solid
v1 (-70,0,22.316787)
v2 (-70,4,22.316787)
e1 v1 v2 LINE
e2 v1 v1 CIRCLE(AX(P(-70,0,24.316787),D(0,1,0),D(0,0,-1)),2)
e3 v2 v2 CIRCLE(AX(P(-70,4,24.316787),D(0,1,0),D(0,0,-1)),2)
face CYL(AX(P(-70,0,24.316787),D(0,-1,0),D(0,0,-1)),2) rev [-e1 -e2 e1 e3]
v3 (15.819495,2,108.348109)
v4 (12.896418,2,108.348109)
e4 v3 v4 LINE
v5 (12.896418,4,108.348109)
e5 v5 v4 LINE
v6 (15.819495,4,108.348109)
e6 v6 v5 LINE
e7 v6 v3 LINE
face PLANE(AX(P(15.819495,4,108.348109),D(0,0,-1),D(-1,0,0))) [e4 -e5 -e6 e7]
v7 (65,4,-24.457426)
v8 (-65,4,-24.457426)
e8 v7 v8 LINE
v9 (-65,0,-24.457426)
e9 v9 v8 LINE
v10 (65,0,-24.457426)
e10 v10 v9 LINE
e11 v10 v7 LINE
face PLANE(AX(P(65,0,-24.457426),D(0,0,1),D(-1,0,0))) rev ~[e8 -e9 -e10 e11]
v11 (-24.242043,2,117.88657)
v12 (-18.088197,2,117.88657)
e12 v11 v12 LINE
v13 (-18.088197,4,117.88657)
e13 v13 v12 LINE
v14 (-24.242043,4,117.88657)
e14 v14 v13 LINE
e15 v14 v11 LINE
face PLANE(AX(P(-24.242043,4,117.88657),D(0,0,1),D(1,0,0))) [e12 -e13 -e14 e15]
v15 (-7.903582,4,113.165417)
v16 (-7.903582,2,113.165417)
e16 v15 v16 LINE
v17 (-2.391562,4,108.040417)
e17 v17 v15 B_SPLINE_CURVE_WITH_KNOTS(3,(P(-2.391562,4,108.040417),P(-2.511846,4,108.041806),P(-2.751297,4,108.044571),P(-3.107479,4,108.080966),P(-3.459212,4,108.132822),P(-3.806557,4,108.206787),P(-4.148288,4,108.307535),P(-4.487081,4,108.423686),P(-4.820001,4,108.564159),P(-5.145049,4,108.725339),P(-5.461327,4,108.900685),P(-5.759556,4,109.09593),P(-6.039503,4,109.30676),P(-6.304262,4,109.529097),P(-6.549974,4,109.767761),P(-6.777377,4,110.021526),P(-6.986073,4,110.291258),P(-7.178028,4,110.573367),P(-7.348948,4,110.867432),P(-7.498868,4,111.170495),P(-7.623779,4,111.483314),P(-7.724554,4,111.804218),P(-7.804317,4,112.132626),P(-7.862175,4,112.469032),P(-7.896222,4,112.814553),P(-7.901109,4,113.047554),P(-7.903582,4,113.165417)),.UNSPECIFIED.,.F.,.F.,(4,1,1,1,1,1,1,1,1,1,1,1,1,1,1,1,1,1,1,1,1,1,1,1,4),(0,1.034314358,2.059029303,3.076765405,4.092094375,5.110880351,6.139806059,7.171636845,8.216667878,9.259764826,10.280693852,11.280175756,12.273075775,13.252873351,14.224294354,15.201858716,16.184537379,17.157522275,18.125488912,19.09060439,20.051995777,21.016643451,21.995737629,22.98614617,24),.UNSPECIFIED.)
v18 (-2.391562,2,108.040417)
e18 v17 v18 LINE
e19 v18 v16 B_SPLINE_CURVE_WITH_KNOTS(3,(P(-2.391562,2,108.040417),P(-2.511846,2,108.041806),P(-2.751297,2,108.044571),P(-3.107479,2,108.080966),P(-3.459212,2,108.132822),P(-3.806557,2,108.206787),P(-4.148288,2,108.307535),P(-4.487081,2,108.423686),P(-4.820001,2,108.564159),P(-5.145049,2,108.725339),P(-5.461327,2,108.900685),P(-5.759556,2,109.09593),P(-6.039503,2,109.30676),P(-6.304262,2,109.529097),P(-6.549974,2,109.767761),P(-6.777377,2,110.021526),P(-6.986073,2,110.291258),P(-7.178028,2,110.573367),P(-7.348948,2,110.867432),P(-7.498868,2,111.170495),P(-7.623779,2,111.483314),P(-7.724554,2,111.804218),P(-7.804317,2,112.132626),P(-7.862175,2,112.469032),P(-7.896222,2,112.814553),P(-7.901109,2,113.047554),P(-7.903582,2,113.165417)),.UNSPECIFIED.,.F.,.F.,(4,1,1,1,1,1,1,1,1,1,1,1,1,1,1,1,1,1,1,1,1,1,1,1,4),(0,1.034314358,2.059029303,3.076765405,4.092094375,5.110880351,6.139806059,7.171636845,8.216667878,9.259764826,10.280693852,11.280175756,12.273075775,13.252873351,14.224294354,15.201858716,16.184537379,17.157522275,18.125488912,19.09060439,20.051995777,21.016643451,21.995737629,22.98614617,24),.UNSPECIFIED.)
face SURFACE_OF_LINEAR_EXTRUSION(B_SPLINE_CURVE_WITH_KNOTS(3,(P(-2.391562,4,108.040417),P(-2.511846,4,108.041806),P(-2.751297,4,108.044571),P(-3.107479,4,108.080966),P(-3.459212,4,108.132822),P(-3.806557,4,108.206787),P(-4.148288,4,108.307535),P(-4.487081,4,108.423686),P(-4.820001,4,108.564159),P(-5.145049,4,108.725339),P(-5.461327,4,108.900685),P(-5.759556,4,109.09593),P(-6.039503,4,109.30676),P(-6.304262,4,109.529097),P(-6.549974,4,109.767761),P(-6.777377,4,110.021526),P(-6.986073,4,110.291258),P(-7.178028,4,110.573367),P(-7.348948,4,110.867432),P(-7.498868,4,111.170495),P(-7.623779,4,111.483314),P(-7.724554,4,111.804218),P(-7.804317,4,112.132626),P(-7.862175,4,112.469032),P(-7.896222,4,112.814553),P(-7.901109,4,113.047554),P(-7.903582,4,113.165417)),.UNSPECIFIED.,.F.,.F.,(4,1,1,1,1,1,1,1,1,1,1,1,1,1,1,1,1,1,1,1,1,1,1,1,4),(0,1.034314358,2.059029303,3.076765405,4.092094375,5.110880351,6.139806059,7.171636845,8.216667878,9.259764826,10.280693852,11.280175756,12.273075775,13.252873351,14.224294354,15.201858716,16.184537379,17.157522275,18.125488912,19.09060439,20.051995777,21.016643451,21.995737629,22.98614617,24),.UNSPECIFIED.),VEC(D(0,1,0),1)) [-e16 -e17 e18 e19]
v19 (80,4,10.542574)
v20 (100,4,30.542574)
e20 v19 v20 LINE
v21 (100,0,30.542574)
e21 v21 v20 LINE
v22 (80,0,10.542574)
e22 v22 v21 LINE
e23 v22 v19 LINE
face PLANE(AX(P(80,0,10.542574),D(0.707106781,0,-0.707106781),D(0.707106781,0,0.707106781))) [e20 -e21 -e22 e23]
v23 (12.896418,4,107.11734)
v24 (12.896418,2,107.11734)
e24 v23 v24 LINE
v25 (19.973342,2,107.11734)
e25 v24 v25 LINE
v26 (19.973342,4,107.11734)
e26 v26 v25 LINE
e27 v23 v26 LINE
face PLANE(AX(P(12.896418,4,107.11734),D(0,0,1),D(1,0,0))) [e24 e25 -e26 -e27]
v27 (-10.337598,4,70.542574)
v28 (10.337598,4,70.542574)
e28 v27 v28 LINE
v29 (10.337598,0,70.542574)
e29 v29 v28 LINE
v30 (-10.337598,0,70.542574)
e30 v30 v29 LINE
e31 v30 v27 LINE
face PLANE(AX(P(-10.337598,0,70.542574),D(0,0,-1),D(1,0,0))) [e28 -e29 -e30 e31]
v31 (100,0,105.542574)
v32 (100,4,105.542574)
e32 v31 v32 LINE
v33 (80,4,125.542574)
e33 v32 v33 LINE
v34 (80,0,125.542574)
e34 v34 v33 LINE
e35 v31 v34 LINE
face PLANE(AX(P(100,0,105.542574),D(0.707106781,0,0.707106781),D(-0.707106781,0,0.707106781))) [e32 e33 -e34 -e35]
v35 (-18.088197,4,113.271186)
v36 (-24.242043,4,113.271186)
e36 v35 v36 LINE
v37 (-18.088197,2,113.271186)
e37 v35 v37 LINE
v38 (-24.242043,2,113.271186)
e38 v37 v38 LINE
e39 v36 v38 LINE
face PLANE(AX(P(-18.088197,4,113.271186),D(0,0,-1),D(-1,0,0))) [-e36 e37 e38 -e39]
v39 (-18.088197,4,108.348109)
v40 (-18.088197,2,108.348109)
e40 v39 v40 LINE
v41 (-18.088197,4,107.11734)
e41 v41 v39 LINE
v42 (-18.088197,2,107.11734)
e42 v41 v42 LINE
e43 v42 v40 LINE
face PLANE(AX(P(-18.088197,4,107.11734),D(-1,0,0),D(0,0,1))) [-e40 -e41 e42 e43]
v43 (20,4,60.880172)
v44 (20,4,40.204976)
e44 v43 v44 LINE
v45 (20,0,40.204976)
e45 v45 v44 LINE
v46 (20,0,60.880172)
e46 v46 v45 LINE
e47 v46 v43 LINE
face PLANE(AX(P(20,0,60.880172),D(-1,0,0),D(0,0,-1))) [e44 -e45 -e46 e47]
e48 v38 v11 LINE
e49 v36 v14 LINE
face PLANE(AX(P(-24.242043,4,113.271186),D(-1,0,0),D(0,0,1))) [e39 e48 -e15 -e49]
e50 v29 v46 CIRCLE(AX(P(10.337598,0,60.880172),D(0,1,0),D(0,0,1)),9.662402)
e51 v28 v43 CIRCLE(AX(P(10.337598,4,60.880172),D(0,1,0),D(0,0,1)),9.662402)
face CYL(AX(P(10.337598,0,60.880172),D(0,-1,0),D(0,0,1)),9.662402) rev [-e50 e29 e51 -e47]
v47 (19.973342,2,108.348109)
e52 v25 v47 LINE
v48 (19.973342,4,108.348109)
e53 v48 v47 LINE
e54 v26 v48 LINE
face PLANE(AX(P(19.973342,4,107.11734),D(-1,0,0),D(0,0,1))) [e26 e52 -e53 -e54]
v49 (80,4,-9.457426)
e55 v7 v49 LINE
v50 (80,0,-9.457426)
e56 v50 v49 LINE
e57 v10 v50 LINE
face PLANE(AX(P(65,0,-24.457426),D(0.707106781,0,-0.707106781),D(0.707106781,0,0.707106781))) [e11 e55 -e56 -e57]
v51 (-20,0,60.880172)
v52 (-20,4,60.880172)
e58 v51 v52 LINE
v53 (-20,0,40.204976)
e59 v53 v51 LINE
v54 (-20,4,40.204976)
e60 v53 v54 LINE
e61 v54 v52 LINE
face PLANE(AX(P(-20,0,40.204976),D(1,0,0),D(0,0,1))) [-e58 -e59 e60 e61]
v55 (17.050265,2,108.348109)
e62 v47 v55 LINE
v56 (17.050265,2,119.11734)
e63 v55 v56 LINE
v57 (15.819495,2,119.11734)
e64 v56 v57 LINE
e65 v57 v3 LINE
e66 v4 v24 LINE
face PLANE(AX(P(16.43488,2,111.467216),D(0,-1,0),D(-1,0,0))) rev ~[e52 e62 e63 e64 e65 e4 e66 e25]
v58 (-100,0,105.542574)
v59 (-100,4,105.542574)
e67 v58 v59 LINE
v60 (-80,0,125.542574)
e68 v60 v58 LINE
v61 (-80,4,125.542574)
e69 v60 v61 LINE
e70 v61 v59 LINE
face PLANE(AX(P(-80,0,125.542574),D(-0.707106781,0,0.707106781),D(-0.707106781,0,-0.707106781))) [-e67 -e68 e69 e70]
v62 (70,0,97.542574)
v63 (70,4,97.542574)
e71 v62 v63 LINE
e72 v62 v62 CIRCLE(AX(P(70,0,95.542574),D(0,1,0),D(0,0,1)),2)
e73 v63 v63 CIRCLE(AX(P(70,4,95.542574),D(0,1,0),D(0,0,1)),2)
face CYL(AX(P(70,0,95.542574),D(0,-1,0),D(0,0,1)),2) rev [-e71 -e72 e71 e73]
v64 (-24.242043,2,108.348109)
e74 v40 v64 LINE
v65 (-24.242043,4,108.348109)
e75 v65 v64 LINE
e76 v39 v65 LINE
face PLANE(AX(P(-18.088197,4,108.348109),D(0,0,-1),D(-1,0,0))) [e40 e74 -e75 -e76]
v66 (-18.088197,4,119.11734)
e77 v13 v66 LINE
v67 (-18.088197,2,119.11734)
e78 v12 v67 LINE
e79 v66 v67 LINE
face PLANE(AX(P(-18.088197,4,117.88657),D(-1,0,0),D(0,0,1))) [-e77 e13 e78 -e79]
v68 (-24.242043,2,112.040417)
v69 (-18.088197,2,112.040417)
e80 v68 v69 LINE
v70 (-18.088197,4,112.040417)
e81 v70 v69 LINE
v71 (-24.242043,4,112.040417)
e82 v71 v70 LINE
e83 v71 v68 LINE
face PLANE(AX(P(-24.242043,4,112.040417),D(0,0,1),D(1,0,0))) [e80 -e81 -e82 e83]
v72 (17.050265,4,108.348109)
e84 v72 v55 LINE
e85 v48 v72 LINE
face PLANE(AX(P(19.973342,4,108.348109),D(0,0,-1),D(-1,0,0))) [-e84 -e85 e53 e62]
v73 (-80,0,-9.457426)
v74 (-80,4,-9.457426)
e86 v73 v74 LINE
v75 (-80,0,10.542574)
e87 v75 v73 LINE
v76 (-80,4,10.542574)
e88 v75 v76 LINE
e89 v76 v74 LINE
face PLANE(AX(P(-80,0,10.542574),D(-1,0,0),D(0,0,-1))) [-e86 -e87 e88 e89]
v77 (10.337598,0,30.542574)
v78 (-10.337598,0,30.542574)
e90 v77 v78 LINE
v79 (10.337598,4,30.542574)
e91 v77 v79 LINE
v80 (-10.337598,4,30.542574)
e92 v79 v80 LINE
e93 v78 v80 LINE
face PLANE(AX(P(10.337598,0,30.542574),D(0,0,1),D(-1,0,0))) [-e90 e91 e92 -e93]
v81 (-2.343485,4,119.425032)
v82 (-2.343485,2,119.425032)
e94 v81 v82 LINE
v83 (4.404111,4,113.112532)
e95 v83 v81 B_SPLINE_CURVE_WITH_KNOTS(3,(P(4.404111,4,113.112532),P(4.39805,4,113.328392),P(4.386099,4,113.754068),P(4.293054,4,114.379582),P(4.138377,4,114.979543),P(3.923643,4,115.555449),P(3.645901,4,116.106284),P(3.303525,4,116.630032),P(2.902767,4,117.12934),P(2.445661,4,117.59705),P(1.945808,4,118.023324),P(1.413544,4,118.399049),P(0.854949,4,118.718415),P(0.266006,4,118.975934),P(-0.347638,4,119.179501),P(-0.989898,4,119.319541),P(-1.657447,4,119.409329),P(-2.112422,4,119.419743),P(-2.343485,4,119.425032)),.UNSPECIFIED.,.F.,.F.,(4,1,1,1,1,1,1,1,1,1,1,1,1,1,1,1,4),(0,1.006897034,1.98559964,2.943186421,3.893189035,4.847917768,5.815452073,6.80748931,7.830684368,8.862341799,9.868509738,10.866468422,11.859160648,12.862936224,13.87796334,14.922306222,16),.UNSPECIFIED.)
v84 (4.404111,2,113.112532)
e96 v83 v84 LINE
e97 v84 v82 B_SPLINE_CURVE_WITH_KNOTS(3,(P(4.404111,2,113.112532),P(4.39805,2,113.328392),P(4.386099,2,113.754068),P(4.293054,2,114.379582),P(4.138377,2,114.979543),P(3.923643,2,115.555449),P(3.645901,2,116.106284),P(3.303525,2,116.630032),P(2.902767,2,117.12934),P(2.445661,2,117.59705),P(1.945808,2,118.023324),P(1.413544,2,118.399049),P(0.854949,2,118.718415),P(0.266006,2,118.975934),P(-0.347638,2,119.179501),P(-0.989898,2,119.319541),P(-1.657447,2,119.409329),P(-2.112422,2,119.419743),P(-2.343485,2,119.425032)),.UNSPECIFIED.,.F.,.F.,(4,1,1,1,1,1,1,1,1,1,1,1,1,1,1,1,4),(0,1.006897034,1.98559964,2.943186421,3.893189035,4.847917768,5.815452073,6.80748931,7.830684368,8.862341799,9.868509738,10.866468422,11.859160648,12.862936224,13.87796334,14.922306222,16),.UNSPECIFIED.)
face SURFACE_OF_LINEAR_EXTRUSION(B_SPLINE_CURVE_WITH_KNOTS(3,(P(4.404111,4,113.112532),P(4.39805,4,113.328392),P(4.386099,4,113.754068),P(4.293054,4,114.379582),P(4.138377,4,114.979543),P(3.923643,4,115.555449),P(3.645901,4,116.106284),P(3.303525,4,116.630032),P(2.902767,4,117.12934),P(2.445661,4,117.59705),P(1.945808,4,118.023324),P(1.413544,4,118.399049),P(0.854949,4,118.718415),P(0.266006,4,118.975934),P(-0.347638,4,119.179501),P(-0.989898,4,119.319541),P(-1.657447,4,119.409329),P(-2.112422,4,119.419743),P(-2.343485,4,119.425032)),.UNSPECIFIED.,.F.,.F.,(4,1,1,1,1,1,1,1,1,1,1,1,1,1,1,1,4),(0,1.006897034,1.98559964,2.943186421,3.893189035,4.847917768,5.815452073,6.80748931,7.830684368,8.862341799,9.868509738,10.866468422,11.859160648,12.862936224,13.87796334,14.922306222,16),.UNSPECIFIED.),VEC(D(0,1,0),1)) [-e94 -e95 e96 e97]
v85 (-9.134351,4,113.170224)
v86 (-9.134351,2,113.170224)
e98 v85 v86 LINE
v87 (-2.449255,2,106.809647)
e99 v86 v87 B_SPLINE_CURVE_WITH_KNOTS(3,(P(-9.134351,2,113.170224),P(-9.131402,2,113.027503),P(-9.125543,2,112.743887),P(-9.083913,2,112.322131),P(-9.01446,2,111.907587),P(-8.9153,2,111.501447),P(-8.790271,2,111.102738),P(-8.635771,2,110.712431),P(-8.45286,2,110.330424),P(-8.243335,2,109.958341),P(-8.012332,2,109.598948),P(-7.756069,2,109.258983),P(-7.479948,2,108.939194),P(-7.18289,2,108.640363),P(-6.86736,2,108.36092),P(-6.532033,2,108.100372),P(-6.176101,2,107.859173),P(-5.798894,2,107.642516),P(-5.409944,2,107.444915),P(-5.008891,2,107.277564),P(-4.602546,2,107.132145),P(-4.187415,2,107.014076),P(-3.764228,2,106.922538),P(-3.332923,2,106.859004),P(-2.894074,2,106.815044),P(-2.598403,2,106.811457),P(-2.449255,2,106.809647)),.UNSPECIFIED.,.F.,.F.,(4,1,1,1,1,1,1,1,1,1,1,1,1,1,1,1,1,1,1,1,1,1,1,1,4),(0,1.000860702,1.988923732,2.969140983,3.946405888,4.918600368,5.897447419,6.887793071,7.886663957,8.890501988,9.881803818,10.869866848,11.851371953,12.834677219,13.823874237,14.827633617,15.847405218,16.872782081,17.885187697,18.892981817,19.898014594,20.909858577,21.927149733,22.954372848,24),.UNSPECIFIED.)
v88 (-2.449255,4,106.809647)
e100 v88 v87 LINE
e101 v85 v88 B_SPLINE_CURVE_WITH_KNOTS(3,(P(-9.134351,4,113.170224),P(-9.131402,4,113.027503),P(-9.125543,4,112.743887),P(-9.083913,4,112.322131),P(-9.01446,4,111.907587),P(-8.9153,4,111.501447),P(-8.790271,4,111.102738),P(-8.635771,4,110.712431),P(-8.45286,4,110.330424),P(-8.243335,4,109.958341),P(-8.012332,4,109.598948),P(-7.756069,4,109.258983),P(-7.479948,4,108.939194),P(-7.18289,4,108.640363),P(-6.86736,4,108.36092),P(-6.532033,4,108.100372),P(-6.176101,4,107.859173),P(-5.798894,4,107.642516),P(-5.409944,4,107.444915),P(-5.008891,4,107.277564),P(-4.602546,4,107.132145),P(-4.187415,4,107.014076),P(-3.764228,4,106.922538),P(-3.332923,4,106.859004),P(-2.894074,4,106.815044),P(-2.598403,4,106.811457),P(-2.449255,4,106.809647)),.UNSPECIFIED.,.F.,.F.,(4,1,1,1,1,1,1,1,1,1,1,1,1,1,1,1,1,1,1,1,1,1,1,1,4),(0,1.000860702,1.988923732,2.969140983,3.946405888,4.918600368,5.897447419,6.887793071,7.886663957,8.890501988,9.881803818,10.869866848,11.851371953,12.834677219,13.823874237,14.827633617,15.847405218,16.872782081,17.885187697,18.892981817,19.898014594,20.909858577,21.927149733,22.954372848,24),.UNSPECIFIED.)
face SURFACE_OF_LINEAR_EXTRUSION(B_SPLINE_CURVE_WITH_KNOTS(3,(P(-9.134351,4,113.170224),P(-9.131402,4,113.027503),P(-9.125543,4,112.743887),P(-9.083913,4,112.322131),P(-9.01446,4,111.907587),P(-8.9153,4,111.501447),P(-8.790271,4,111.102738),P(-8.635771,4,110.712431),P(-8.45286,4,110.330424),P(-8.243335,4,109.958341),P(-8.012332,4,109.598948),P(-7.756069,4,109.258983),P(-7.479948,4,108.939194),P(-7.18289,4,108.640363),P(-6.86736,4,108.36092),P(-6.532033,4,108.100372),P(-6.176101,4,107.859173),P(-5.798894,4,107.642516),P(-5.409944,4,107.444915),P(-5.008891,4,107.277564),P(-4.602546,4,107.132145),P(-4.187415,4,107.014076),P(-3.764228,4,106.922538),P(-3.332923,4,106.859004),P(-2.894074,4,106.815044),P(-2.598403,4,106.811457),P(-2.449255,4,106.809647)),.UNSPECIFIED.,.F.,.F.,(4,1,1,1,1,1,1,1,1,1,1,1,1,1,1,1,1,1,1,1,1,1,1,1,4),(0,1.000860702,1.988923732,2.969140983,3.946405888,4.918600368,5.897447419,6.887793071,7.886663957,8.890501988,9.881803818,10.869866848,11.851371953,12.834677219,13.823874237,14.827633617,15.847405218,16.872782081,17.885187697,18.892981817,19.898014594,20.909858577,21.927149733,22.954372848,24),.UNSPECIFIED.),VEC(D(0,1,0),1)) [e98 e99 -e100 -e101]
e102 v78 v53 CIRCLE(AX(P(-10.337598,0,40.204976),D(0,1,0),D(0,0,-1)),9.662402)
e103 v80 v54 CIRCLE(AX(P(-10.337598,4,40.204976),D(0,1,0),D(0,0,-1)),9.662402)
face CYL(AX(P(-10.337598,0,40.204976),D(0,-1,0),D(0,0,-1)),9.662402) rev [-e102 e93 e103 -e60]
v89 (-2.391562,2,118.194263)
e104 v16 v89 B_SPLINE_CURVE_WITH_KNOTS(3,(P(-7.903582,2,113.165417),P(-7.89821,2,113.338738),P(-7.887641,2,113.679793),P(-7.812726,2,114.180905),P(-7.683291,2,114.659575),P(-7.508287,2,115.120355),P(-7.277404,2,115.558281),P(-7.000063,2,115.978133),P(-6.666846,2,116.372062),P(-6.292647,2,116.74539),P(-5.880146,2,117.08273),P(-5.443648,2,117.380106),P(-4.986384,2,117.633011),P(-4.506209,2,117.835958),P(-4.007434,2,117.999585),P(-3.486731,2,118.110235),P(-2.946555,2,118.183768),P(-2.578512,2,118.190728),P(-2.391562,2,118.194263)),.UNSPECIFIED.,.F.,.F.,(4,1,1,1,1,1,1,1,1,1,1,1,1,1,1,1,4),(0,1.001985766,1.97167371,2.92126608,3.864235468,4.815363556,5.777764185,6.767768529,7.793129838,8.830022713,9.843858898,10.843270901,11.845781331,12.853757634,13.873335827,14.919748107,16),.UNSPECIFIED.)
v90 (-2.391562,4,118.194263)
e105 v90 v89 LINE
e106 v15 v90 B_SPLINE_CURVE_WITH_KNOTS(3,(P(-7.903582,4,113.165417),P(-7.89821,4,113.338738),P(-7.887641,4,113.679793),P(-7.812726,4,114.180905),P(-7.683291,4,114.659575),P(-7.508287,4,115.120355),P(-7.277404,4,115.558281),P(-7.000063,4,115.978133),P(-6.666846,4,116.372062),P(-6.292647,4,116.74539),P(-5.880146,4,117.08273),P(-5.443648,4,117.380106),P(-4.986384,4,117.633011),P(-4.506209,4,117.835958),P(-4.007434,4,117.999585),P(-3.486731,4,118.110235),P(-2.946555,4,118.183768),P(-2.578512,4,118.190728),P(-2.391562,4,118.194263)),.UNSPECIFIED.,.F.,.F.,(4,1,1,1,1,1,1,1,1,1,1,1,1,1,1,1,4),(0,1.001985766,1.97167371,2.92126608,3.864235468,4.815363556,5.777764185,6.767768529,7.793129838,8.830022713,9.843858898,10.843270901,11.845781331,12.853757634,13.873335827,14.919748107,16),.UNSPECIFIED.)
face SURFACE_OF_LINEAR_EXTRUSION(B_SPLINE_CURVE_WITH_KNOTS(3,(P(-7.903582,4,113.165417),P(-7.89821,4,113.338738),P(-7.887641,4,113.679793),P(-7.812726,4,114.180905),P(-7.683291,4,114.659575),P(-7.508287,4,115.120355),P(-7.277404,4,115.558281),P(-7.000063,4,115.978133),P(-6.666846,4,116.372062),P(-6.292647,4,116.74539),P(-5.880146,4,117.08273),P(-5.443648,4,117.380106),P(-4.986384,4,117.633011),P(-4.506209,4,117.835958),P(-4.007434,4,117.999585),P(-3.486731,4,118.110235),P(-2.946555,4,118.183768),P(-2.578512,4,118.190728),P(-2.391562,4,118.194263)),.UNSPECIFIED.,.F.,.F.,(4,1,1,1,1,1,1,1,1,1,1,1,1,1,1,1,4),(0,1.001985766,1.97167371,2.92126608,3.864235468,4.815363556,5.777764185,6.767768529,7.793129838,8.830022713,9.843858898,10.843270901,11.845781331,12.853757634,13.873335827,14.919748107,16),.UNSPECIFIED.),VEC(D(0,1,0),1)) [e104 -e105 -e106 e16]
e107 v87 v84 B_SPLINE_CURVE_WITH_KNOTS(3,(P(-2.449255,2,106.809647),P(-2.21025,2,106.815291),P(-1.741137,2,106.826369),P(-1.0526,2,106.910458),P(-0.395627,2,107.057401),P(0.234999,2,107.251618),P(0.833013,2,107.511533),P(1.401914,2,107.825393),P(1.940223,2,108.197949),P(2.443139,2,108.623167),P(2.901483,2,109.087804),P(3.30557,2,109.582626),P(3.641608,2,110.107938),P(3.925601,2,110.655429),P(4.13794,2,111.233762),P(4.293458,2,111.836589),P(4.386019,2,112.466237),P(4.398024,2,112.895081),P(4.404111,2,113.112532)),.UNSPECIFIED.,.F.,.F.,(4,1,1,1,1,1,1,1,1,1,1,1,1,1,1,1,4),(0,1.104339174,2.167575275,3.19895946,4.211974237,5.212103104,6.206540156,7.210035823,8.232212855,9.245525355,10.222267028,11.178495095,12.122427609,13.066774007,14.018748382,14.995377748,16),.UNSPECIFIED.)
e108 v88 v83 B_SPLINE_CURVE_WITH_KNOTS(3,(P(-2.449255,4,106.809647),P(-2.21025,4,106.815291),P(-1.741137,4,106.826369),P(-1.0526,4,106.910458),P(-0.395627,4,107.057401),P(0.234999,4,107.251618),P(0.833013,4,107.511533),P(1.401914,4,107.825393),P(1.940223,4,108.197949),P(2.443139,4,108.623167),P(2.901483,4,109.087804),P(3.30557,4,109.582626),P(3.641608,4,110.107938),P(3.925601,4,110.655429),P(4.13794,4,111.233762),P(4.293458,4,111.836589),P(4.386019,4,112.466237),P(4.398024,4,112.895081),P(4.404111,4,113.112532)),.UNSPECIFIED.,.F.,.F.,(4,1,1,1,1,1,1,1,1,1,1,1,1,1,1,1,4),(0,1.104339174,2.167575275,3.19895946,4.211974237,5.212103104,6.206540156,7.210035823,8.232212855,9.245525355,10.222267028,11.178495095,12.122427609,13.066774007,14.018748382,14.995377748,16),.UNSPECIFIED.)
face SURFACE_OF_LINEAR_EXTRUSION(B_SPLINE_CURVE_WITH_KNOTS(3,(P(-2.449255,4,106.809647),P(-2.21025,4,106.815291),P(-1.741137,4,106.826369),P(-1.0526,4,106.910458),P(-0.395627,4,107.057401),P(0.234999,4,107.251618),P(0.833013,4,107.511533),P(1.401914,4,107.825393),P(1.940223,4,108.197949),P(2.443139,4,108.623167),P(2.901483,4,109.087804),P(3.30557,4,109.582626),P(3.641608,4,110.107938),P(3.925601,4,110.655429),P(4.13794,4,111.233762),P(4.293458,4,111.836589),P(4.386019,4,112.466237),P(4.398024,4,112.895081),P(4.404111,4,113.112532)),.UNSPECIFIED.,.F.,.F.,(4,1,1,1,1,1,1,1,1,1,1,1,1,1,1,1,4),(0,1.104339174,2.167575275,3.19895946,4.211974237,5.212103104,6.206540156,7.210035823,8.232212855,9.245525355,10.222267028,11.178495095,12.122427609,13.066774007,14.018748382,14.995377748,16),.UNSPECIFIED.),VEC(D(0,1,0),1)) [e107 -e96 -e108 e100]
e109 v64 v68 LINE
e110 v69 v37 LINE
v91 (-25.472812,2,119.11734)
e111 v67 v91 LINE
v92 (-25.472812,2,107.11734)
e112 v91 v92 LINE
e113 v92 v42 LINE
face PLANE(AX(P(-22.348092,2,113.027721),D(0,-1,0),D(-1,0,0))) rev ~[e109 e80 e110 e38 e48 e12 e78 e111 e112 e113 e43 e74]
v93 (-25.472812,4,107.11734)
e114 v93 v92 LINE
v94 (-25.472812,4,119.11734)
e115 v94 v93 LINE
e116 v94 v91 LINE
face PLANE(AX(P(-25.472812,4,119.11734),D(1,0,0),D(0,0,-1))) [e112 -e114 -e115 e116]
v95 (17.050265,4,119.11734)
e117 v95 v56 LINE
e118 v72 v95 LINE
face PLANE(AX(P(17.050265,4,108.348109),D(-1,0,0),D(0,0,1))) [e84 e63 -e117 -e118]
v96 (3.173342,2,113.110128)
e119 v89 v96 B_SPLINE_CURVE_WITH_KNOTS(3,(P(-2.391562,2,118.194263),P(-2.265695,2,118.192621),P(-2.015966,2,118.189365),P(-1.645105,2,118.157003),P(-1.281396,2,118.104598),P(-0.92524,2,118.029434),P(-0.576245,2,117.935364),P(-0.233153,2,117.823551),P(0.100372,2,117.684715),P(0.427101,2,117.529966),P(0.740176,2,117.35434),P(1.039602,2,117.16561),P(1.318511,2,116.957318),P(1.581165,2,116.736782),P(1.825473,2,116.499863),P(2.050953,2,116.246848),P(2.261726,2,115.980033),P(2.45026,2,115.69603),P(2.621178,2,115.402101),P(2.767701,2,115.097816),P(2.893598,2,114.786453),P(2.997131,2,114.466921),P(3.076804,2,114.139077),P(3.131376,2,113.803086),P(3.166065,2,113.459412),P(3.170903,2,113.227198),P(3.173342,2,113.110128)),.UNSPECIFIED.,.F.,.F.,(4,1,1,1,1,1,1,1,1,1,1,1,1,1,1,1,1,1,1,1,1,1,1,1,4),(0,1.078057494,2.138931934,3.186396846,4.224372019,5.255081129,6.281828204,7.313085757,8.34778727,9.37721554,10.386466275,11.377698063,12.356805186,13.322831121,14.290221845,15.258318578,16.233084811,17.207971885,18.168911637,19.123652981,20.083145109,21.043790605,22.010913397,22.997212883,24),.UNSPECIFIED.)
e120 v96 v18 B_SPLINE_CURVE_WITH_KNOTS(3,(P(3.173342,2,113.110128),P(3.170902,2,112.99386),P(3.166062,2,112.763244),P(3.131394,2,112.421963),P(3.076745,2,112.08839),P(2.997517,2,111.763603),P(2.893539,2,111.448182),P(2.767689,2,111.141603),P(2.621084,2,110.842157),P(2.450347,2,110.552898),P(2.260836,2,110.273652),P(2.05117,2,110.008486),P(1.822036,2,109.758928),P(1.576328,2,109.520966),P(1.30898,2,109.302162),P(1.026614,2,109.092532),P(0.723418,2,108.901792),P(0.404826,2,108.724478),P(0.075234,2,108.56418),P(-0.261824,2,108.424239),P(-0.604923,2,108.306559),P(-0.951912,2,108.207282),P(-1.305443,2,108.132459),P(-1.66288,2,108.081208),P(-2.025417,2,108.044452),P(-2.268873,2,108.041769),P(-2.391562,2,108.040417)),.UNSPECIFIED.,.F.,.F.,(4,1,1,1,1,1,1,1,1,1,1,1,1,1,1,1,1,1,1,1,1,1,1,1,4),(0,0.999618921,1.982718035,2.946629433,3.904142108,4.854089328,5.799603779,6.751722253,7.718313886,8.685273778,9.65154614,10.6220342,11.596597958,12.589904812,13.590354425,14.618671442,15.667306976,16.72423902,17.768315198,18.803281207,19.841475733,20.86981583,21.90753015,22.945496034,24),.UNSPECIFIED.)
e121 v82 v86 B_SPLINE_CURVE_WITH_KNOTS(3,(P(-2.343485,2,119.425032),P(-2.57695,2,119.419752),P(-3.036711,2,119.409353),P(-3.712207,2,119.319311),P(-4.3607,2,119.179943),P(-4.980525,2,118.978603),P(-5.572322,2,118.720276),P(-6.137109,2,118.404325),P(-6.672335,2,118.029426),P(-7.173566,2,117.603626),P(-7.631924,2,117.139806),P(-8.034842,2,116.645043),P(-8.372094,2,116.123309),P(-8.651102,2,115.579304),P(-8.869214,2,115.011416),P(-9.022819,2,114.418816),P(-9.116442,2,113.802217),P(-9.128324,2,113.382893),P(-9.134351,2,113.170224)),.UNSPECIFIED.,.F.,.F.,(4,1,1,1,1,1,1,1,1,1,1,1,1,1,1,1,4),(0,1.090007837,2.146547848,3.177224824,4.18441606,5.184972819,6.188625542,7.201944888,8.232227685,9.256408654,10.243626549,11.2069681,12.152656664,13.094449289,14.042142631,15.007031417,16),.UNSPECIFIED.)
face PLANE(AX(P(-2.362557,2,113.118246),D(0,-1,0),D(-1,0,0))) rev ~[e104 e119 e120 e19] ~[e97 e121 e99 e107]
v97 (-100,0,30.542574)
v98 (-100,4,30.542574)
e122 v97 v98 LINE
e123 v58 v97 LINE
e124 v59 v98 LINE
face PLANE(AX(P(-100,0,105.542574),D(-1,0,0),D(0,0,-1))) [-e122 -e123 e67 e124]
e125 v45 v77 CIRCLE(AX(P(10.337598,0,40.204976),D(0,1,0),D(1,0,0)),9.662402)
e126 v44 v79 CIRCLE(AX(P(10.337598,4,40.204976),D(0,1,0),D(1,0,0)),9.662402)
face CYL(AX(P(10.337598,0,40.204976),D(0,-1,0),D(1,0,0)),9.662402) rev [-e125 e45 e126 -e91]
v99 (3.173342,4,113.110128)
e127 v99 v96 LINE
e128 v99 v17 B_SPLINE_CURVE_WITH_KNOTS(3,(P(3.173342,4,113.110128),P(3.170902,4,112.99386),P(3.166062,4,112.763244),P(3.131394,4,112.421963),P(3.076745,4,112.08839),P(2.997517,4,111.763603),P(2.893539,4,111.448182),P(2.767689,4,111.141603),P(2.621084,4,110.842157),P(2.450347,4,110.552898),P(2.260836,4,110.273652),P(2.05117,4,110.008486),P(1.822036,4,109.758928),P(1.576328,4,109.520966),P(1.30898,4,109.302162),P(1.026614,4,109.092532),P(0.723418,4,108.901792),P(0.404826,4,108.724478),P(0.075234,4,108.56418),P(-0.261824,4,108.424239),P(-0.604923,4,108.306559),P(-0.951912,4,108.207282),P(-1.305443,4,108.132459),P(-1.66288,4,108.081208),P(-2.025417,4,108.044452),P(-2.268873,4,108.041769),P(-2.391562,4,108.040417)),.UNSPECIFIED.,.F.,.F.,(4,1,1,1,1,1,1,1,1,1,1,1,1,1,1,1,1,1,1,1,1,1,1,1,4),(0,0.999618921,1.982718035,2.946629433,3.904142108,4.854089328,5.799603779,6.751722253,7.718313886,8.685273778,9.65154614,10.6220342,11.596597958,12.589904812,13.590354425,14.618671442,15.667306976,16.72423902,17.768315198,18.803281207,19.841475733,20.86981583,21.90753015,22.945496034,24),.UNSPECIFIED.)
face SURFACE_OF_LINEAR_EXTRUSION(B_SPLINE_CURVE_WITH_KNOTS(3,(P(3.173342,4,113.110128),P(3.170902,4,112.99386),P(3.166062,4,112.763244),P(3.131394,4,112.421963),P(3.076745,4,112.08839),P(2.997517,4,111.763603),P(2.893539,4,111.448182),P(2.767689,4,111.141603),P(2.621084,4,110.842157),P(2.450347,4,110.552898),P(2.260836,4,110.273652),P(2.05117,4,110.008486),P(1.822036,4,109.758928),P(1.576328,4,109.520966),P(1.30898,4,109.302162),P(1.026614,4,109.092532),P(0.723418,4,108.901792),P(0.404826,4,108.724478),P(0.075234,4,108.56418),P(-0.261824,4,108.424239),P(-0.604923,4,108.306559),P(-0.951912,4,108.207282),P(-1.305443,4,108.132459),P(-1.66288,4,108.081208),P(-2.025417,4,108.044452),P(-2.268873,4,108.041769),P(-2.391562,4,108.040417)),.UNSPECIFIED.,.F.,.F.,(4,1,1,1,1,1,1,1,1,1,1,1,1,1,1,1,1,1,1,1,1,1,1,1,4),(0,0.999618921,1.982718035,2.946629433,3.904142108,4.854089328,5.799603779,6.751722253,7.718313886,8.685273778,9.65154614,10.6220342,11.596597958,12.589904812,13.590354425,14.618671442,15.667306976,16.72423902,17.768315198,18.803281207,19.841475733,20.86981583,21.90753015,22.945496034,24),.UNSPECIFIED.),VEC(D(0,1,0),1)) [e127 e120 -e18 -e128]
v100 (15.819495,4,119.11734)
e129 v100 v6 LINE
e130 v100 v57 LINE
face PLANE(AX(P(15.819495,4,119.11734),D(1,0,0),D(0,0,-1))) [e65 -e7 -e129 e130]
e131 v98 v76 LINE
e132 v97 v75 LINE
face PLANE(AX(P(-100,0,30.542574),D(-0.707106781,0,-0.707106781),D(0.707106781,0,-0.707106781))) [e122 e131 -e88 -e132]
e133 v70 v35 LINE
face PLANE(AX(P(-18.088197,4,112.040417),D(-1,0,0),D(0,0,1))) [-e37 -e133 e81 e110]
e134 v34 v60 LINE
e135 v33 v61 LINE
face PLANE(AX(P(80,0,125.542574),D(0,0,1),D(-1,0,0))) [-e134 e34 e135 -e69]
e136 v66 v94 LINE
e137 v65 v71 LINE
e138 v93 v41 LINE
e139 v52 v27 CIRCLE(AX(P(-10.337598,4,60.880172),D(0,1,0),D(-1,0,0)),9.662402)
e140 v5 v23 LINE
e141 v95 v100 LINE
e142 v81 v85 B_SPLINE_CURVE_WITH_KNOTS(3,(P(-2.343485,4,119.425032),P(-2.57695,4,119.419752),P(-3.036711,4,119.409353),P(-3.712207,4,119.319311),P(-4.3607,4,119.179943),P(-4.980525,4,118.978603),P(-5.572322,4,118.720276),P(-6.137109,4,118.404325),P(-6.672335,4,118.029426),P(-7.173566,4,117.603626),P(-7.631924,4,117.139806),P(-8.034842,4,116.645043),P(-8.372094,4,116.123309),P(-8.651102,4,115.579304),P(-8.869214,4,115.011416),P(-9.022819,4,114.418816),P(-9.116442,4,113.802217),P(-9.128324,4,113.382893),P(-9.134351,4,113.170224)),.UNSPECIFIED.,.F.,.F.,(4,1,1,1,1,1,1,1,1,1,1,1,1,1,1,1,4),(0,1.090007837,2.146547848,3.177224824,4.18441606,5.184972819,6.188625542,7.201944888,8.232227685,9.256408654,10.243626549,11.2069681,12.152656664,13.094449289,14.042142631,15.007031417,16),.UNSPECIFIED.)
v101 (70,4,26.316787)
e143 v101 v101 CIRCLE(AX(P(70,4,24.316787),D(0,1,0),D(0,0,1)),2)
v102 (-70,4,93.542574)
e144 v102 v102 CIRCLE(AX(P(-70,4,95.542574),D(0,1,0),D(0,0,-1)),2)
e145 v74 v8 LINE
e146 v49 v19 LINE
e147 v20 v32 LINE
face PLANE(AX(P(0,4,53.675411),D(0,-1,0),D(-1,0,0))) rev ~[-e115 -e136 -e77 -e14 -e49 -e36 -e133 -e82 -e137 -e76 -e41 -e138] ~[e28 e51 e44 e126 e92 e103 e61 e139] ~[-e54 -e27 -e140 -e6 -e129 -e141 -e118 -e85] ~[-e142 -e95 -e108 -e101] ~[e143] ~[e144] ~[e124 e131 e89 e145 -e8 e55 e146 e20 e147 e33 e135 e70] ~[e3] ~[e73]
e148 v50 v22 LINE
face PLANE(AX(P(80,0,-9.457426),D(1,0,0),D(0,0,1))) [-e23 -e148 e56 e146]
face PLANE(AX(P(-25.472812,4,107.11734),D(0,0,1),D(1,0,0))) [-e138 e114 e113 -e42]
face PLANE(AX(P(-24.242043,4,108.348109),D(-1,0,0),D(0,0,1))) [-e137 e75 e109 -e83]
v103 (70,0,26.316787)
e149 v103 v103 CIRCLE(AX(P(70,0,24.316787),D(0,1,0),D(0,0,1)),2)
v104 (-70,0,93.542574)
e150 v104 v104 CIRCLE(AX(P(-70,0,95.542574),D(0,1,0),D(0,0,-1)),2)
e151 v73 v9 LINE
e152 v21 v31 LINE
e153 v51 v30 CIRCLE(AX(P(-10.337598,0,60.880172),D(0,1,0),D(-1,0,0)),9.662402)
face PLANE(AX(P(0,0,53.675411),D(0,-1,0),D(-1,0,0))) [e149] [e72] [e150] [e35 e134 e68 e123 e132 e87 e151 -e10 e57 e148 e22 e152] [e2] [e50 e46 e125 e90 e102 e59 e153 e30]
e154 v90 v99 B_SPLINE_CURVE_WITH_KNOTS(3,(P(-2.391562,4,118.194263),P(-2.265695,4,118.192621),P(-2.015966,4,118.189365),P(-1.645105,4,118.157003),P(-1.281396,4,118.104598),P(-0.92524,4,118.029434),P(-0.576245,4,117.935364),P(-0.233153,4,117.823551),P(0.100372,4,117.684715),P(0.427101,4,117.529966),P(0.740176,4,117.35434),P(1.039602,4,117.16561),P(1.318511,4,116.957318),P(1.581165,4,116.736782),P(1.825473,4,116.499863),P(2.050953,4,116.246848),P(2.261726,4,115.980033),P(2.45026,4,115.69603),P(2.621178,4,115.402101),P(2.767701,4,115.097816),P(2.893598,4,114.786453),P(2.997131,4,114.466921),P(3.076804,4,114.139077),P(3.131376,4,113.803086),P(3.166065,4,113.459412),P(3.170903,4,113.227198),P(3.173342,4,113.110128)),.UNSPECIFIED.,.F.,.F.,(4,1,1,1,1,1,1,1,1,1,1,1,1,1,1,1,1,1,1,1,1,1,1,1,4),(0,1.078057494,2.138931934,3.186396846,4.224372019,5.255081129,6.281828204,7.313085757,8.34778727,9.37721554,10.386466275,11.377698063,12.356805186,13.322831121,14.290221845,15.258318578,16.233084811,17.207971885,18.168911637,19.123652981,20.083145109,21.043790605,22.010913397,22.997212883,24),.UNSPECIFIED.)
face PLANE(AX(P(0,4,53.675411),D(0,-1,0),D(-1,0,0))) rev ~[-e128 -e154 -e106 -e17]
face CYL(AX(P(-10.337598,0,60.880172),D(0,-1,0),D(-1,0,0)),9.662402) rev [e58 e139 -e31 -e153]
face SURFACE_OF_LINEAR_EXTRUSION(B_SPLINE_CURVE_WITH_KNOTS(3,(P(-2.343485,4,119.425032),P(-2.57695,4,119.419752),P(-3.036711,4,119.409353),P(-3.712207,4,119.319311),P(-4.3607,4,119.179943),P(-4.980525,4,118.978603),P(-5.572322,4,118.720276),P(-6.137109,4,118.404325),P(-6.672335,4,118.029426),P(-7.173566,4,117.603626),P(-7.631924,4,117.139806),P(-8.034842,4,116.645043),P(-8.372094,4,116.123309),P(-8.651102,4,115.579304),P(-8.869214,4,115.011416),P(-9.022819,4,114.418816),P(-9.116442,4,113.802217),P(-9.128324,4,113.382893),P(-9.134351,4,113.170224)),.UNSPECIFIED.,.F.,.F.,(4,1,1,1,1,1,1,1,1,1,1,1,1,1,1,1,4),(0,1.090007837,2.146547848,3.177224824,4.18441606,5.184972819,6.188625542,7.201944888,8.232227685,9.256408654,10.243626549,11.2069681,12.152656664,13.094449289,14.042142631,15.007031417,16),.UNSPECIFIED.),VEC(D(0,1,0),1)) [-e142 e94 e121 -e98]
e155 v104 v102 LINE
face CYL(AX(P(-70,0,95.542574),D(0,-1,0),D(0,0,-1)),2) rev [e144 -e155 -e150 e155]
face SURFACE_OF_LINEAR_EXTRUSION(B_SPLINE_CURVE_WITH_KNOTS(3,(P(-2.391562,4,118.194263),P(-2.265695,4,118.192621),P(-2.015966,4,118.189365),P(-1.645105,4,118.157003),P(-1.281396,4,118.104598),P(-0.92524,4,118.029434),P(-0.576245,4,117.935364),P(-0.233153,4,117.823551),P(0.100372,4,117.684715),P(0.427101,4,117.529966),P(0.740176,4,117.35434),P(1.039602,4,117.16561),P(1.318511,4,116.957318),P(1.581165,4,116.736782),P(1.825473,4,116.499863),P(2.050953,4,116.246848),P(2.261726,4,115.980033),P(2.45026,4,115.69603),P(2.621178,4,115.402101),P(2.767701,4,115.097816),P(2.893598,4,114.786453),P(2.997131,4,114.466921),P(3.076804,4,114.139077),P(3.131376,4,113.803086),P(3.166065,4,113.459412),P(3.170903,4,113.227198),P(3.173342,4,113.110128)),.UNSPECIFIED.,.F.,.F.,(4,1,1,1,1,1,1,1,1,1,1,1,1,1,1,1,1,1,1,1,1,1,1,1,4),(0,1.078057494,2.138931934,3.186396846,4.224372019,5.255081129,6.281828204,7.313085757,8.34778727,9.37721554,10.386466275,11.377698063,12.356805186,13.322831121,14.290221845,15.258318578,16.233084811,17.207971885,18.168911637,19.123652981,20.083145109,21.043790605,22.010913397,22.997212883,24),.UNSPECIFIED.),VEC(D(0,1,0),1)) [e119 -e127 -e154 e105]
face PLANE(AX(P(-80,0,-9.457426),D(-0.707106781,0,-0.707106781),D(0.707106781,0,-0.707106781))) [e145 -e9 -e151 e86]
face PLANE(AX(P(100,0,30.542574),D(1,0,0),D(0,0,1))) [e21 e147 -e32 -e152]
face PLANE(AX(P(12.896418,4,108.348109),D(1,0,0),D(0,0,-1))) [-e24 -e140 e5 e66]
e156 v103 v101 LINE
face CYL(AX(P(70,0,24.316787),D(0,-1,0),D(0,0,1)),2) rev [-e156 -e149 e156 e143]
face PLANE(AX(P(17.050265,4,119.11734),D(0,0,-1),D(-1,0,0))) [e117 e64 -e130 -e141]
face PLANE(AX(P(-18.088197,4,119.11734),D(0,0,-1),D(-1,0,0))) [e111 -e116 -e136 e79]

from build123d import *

# Parameters (mm, degrees)
SKETCH1_R           = 2
BOSS_EXTRUDE1_DEPTH = 4
CUT_EXTRUDE1_DEPTH  = 2


with BuildPart() as part:
    # Sketch1 → Boss-Extrude1 (new body)
    with BuildSketch(Plane(origin=(0, 0, 0), x_dir=(1, 0, 0), z_dir=(0, 1, 0))):
        Polygon((-80, 9.45742592), (-65, 24.45742592), (-25, 24.45742592), (25, 24.45742592), (65, 24.45742592), (80, 9.45742592), (80, -10.54257408), (100, -30.54257408), (100, -105.54257408), (80, -125.54257408), (-80, -125.54257408), (-100, -105.54257408), (-100, -30.54257408), (-80, -10.54257408), align=None)
        with Locations(Location((70, -24.316787178, 0), (0, 0, 270))):
            Circle(SKETCH1_R, mode=Mode.SUBTRACT)
        with Locations(Location((-70, -24.316787178, 0), (0, 0, 90))):
            Circle(SKETCH1_R, mode=Mode.SUBTRACT)
        with Locations(Location((70, -95.54257408, 0), (0, 0, 270))):
            Circle(SKETCH1_R, mode=Mode.SUBTRACT)
        with Locations(Location((-70, -95.54257408, 0), (0, 0, 90))):
            Circle(SKETCH1_R, mode=Mode.SUBTRACT)
        with BuildLine():
            Line((10.337598094, -30.54257408), (-10.337598094, -30.54257408))
            ThreePointArc((-10.337598094, -30.54257408), (-17.169948004, -33.372626076), (-20, -40.204975986))
            Line((-20, -40.204975986), (-20, -60.880172175))
            ThreePointArc((-20, -60.880172175), (-17.169948004, -67.712522085), (-10.337598094, -70.54257408))
            Line((-10.337598094, -70.54257408), (10.337598094, -70.54257408))
            ThreePointArc((10.337598094, -70.54257408), (17.169948004, -67.712522085), (20, -60.880172175))
            Line((20, -60.880172175), (20, -40.204975986))
            ThreePointArc((20, -40.204975986), (17.169948004, -33.372626076), (10.337598094, -30.54257408))
        make_face(mode=Mode.SUBTRACT)
    extrude(amount=BOSS_EXTRUDE1_DEPTH)

    # Sketch2 → Cut-Extrude1 (cut)
    # profile 1 of 3: a face of its own
    with BuildSketch(Plane(origin=(0, 4, 0), x_dir=(1, 0, 0), z_dir=(0, 1, 0))):
        Polygon((-25.472812288, -107.11733973), (-18.088196904, -107.11733973), (-18.088196904, -108.348108961), (-24.242043057, -108.348108961), (-24.242043057, -112.040416653), (-18.088196904, -112.040416653), (-18.088196904, -113.271185884), (-24.242043057, -113.271185884), (-24.242043057, -117.886570499), (-18.088196904, -117.886570499), (-18.088196904, -119.11733973), (-25.472812288, -119.11733973), align=None)
    # profile 2 of 3: a face of its own
    with BuildSketch(Plane(origin=(0, 4, 0), x_dir=(1, 0, 0), z_dir=(0, 1, 0))):
        with BuildLine():
            add(Edge.make_bspline(
                [(-2.449254596, -106.809647422), (-2.210250294, -106.815291388), (-1.741137338, -106.826369254), (-1.052600103, -106.910458186), (-0.39562656, -107.057401058), (0.234998612, -107.251617707), (0.833013231, -107.511533008), (1.401913508, -107.825392722), (1.940223039, -108.19794914), (2.443138546, -108.623167189), (2.901482907, -109.087804066), (3.30556983, -109.582626329), (3.641608313, -110.107938076), (3.925601094, -110.655428552), (4.137939972, -111.233761906), (4.293457565, -111.836588501), (4.386018721, -112.46623686), (4.398023561, -112.895080616), (4.404110789, -113.112532038)],
                knots=[0, 0, 0, 0, 1.104339174, 2.167575275, 3.19895946, 4.211974237, 5.212103104, 6.206540156, 7.210035823, 8.232212855, 9.245525355, 10.222267028, 11.178495095, 12.122427609, 13.066774007, 14.018748382, 14.995377748, 16, 16, 16, 16], degree=3))
            add(Edge.make_bspline(
                [(4.404110789, -113.112532038), (4.398050369, -113.328392066), (4.386099229, -113.754067761), (4.293053577, -114.379582401), (4.138376677, -114.979542971), (3.923642546, -115.555449046), (3.645900791, -116.106283535), (3.303525105, -116.630032235), (2.902767408, -117.129340391), (2.445660949, -117.597050461), (1.945808283, -118.023324325), (1.413543804, -118.399049089), (0.854948848, -118.718415341), (0.266006362, -118.975934066), (-0.347638297, -119.179500527), (-0.989897569, -119.319540684), (-1.657446562, -119.409328528), (-2.112422229, -119.419742975), (-2.343485365, -119.425032038)],
                knots=[0, 0, 0, 0, 1.006897034, 1.98559964, 2.943186421, 3.893189035, 4.847917768, 5.815452073, 6.80748931, 7.830684368, 8.862341799, 9.868509738, 10.866468422, 11.859160648, 12.862936224, 13.87796334, 14.922306222, 16, 16, 16, 16], degree=3))
            add(Edge.make_bspline(
                [(-2.343485365, -119.425032038), (-2.576950096, -119.419751502), (-3.036711209, -119.409352567), (-3.71220671, -119.319311427), (-4.360699664, -119.179942779), (-4.980525124, -118.978602698), (-5.5723218, -118.720276019), (-6.137109172, -118.40432461), (-6.672334655, -118.029426015), (-7.173565891, -117.603625551), (-7.631923667, -117.139805588), (-8.034841868, -116.645043071), (-8.372094355, -116.1233088), (-8.651102104, -115.57930445), (-8.869213941, -115.011416487), (-9.022819268, -114.418815701), (-9.116441893, -113.80221707), (-9.128324324, -113.382893249), (-9.13435075, -113.170224345)],
                knots=[0, 0, 0, 0, 1.090007837, 2.146547848, 3.177224824, 4.18441606, 5.184972819, 6.188625542, 7.201944888, 8.232227685, 9.256408654, 10.243626549, 11.2069681, 12.152656664, 13.094449289, 14.042142631, 15.007031417, 16, 16, 16, 16], degree=3))
            add(Edge.make_bspline(
                [(-9.13435075, -113.170224345), (-9.131402402, -113.027503498), (-9.125543406, -112.743886726), (-9.083913012, -112.322131275), (-9.014460276, -111.907586661), (-8.915300454, -111.501446595), (-8.79027069, -111.102737582), (-8.635770803, -110.712430579), (-8.452859537, -110.330424135), (-8.243335129, -109.958340787), (-8.012332045, -109.598947931), (-7.756068538, -109.258983468), (-7.479948492, -108.939194203), (-7.182889634, -108.640362727), (-6.867359525, -108.360919774), (-6.532033375, -108.100372257), (-6.176100518, -107.859172902), (-5.798893902, -107.642516339), (-5.409943928, -107.444915382), (-5.008890938, -107.277563759), (-4.602546124, -107.132145303), (-4.1874152, -107.014075594), (-3.764227753, -106.922537912), (-3.332923423, -106.859004422), (-2.894073915, -106.815043973), (-2.598402752, -106.811456889), (-2.449254596, -106.809647422)],
                knots=[0, 0, 0, 0, 1.000860702, 1.988923732, 2.969140983, 3.946405888, 4.918600368, 5.897447419, 6.887793071, 7.886663957, 8.890501988, 9.881803818, 10.869866848, 11.851371953, 12.834677219, 13.823874237, 14.827633617, 15.847405218, 16.872782081, 17.885187697, 18.892981817, 19.898014594, 20.909858577, 21.927149733, 22.954372848, 24, 24, 24, 24], degree=3))
        make_face()
        with BuildLine():
            add(Edge.make_bspline(
                [(-2.391562288, -108.040416653), (-2.51184609, -108.0418057), (-2.751297347, -108.044570903), (-3.107479041, -108.08096615), (-3.459211644, -108.132822075), (-3.806556963, -108.206786881), (-4.14828776, -108.307535093), (-4.487080949, -108.423686022), (-4.820001205, -108.564158934), (-5.145048651, -108.725339097), (-5.461327271, -108.900684803), (-5.759556253, -109.095930039), (-6.039502965, -109.306760329), (-6.304261521, -109.529097242), (-6.549973838, -109.767761164), (-6.777377431, -110.021526333), (-6.986073395, -110.291257805), (-7.178028363, -110.573366758), (-7.348947973, -110.867432361), (-7.498868436, -111.170494536), (-7.62377932, -111.483313645), (-7.724554049, -111.80421787), (-7.804316815, -112.132626352), (-7.862174528, -112.469031549), (-7.896221771, -112.814553211), (-7.901109212, -113.047553648), (-7.903581519, -113.165416653)],
                knots=[0, 0, 0, 0, 1.034314358, 2.059029303, 3.076765405, 4.092094375, 5.110880351, 6.139806059, 7.171636845, 8.216667878, 9.259764826, 10.280693852, 11.280175756, 12.273075775, 13.252873351, 14.224294354, 15.201858716, 16.184537379, 17.157522275, 18.125488912, 19.09060439, 20.051995777, 21.016643451, 21.995737629, 22.98614617, 24, 24, 24, 24], degree=3))
            add(Edge.make_bspline(
                [(-7.903581519, -113.165416653), (-7.898210266, -113.338737702), (-7.887640897, -113.679793001), (-7.812726489, -114.180904838), (-7.683291296, -114.659574953), (-7.508287161, -115.120354866), (-7.277404332, -115.558281175), (-7.000063223, -115.978132576), (-6.666845655, -116.372061943), (-6.292646829, -116.745390197), (-5.880146385, -117.082729501), (-5.44364821, -117.380106417), (-4.986383542, -117.633010709), (-4.506209078, -117.835958031), (-4.007433542, -117.999585026), (-3.486730857, -118.110234502), (-2.946554931, -118.18376774), (-2.578511943, -118.190727536), (-2.391562288, -118.194262807)],
                knots=[0, 0, 0, 0, 1.001985766, 1.97167371, 2.92126608, 3.864235468, 4.815363556, 5.777764185, 6.767768529, 7.793129838, 8.830022713, 9.843858898, 10.843270901, 11.845781331, 12.853757634, 13.873335827, 14.919748107, 16, 16, 16, 16], degree=3))
            add(Edge.make_bspline(
                [(-2.391562288, -118.194262807), (-2.265694924, -118.192621379), (-2.015966383, -118.189364685), (-1.645104851, -118.157003325), (-1.281395782, -118.104598333), (-0.925240361, -118.029433653), (-0.576244711, -117.935364332), (-0.233153423, -117.823551486), (0.100372074, -117.684715343), (0.427101168, -117.529966058), (0.740175644, -117.354340251), (1.039601812, -117.16560959), (1.318510615, -116.957318496), (1.581165171, -116.736781999), (1.825472925, -116.499862953), (2.050952736, -116.246848151), (2.261725563, -115.980033401), (2.450260234, -115.696029586), (2.621177719, -115.402100516), (2.767700537, -115.097816084), (2.893598008, -114.786452751), (2.997130868, -114.466920991), (3.076803707, -114.139077256), (3.1313758, -113.803085971), (3.16606526, -113.45941233), (3.170902759, -113.22719785), (3.173341558, -113.110128191)],
                knots=[0, 0, 0, 0, 1.078057494, 2.138931934, 3.186396846, 4.224372019, 5.255081129, 6.281828204, 7.313085757, 8.34778727, 9.37721554, 10.386466275, 11.377698063, 12.356805186, 13.322831121, 14.290221845, 15.258318578, 16.233084811, 17.207971885, 18.168911637, 19.123652981, 20.083145109, 21.043790605, 22.010913397, 22.997212883, 24, 24, 24, 24], degree=3))
            add(Edge.make_bspline(
                [(3.173341558, -113.110128191), (3.17090158, -112.993859656), (3.166061946, -112.763244051), (3.131393694, -112.421962658), (3.076744617, -112.088390211), (2.99751732, -111.763602521), (2.893538851, -111.448182118), (2.767688648, -111.141603013), (2.62108354, -110.842157029), (2.450347273, -110.552897813), (2.260835592, -110.2736522), (2.051169953, -110.008485876), (1.822036233, -109.758928429), (1.576327544, -109.520966037), (1.3089803, -109.302162037), (1.02661365, -109.09253243), (0.723417639, -108.901791872), (0.404825644, -108.724478005), (0.075233739, -108.564179625), (-0.261824464, -108.424238717), (-0.604923371, -108.306558799), (-0.951912321, -108.207281647), (-1.305443018, -108.132458501), (-1.662879889, -108.081207676), (-2.025417117, -108.044452246), (-2.268872505, -108.04176892), (-2.391562288, -108.040416653)],
                knots=[0, 0, 0, 0, 0.999618921, 1.982718035, 2.946629433, 3.904142108, 4.854089328, 5.799603779, 6.751722253, 7.718313886, 8.685273778, 9.65154614, 10.6220342, 11.596597958, 12.589904812, 13.590354425, 14.618671442, 15.667306976, 16.72423902, 17.768315198, 18.803281207, 19.841475733, 20.86981583, 21.90753015, 22.945496034, 24, 24, 24, 24], degree=3))
        make_face(mode=Mode.SUBTRACT)
    # profile 3 of 3: a face of its own
    with BuildSketch(Plane(origin=(0, 4, 0), x_dir=(1, 0, 0), z_dir=(0, 1, 0))):
        Polygon((12.896418481, -108.348108961), (12.896418481, -107.11733973), (19.973341558, -107.11733973), (19.973341558, -108.348108961), (17.050264635, -108.348108961), (17.050264635, -119.11733973), (15.819495404, -119.11733973), (15.819495404, -108.348108961), align=None)
    extrude(amount=-CUT_EXTRUDE1_DEPTH, mode=Mode.SUBTRACT)


solid = part.part
